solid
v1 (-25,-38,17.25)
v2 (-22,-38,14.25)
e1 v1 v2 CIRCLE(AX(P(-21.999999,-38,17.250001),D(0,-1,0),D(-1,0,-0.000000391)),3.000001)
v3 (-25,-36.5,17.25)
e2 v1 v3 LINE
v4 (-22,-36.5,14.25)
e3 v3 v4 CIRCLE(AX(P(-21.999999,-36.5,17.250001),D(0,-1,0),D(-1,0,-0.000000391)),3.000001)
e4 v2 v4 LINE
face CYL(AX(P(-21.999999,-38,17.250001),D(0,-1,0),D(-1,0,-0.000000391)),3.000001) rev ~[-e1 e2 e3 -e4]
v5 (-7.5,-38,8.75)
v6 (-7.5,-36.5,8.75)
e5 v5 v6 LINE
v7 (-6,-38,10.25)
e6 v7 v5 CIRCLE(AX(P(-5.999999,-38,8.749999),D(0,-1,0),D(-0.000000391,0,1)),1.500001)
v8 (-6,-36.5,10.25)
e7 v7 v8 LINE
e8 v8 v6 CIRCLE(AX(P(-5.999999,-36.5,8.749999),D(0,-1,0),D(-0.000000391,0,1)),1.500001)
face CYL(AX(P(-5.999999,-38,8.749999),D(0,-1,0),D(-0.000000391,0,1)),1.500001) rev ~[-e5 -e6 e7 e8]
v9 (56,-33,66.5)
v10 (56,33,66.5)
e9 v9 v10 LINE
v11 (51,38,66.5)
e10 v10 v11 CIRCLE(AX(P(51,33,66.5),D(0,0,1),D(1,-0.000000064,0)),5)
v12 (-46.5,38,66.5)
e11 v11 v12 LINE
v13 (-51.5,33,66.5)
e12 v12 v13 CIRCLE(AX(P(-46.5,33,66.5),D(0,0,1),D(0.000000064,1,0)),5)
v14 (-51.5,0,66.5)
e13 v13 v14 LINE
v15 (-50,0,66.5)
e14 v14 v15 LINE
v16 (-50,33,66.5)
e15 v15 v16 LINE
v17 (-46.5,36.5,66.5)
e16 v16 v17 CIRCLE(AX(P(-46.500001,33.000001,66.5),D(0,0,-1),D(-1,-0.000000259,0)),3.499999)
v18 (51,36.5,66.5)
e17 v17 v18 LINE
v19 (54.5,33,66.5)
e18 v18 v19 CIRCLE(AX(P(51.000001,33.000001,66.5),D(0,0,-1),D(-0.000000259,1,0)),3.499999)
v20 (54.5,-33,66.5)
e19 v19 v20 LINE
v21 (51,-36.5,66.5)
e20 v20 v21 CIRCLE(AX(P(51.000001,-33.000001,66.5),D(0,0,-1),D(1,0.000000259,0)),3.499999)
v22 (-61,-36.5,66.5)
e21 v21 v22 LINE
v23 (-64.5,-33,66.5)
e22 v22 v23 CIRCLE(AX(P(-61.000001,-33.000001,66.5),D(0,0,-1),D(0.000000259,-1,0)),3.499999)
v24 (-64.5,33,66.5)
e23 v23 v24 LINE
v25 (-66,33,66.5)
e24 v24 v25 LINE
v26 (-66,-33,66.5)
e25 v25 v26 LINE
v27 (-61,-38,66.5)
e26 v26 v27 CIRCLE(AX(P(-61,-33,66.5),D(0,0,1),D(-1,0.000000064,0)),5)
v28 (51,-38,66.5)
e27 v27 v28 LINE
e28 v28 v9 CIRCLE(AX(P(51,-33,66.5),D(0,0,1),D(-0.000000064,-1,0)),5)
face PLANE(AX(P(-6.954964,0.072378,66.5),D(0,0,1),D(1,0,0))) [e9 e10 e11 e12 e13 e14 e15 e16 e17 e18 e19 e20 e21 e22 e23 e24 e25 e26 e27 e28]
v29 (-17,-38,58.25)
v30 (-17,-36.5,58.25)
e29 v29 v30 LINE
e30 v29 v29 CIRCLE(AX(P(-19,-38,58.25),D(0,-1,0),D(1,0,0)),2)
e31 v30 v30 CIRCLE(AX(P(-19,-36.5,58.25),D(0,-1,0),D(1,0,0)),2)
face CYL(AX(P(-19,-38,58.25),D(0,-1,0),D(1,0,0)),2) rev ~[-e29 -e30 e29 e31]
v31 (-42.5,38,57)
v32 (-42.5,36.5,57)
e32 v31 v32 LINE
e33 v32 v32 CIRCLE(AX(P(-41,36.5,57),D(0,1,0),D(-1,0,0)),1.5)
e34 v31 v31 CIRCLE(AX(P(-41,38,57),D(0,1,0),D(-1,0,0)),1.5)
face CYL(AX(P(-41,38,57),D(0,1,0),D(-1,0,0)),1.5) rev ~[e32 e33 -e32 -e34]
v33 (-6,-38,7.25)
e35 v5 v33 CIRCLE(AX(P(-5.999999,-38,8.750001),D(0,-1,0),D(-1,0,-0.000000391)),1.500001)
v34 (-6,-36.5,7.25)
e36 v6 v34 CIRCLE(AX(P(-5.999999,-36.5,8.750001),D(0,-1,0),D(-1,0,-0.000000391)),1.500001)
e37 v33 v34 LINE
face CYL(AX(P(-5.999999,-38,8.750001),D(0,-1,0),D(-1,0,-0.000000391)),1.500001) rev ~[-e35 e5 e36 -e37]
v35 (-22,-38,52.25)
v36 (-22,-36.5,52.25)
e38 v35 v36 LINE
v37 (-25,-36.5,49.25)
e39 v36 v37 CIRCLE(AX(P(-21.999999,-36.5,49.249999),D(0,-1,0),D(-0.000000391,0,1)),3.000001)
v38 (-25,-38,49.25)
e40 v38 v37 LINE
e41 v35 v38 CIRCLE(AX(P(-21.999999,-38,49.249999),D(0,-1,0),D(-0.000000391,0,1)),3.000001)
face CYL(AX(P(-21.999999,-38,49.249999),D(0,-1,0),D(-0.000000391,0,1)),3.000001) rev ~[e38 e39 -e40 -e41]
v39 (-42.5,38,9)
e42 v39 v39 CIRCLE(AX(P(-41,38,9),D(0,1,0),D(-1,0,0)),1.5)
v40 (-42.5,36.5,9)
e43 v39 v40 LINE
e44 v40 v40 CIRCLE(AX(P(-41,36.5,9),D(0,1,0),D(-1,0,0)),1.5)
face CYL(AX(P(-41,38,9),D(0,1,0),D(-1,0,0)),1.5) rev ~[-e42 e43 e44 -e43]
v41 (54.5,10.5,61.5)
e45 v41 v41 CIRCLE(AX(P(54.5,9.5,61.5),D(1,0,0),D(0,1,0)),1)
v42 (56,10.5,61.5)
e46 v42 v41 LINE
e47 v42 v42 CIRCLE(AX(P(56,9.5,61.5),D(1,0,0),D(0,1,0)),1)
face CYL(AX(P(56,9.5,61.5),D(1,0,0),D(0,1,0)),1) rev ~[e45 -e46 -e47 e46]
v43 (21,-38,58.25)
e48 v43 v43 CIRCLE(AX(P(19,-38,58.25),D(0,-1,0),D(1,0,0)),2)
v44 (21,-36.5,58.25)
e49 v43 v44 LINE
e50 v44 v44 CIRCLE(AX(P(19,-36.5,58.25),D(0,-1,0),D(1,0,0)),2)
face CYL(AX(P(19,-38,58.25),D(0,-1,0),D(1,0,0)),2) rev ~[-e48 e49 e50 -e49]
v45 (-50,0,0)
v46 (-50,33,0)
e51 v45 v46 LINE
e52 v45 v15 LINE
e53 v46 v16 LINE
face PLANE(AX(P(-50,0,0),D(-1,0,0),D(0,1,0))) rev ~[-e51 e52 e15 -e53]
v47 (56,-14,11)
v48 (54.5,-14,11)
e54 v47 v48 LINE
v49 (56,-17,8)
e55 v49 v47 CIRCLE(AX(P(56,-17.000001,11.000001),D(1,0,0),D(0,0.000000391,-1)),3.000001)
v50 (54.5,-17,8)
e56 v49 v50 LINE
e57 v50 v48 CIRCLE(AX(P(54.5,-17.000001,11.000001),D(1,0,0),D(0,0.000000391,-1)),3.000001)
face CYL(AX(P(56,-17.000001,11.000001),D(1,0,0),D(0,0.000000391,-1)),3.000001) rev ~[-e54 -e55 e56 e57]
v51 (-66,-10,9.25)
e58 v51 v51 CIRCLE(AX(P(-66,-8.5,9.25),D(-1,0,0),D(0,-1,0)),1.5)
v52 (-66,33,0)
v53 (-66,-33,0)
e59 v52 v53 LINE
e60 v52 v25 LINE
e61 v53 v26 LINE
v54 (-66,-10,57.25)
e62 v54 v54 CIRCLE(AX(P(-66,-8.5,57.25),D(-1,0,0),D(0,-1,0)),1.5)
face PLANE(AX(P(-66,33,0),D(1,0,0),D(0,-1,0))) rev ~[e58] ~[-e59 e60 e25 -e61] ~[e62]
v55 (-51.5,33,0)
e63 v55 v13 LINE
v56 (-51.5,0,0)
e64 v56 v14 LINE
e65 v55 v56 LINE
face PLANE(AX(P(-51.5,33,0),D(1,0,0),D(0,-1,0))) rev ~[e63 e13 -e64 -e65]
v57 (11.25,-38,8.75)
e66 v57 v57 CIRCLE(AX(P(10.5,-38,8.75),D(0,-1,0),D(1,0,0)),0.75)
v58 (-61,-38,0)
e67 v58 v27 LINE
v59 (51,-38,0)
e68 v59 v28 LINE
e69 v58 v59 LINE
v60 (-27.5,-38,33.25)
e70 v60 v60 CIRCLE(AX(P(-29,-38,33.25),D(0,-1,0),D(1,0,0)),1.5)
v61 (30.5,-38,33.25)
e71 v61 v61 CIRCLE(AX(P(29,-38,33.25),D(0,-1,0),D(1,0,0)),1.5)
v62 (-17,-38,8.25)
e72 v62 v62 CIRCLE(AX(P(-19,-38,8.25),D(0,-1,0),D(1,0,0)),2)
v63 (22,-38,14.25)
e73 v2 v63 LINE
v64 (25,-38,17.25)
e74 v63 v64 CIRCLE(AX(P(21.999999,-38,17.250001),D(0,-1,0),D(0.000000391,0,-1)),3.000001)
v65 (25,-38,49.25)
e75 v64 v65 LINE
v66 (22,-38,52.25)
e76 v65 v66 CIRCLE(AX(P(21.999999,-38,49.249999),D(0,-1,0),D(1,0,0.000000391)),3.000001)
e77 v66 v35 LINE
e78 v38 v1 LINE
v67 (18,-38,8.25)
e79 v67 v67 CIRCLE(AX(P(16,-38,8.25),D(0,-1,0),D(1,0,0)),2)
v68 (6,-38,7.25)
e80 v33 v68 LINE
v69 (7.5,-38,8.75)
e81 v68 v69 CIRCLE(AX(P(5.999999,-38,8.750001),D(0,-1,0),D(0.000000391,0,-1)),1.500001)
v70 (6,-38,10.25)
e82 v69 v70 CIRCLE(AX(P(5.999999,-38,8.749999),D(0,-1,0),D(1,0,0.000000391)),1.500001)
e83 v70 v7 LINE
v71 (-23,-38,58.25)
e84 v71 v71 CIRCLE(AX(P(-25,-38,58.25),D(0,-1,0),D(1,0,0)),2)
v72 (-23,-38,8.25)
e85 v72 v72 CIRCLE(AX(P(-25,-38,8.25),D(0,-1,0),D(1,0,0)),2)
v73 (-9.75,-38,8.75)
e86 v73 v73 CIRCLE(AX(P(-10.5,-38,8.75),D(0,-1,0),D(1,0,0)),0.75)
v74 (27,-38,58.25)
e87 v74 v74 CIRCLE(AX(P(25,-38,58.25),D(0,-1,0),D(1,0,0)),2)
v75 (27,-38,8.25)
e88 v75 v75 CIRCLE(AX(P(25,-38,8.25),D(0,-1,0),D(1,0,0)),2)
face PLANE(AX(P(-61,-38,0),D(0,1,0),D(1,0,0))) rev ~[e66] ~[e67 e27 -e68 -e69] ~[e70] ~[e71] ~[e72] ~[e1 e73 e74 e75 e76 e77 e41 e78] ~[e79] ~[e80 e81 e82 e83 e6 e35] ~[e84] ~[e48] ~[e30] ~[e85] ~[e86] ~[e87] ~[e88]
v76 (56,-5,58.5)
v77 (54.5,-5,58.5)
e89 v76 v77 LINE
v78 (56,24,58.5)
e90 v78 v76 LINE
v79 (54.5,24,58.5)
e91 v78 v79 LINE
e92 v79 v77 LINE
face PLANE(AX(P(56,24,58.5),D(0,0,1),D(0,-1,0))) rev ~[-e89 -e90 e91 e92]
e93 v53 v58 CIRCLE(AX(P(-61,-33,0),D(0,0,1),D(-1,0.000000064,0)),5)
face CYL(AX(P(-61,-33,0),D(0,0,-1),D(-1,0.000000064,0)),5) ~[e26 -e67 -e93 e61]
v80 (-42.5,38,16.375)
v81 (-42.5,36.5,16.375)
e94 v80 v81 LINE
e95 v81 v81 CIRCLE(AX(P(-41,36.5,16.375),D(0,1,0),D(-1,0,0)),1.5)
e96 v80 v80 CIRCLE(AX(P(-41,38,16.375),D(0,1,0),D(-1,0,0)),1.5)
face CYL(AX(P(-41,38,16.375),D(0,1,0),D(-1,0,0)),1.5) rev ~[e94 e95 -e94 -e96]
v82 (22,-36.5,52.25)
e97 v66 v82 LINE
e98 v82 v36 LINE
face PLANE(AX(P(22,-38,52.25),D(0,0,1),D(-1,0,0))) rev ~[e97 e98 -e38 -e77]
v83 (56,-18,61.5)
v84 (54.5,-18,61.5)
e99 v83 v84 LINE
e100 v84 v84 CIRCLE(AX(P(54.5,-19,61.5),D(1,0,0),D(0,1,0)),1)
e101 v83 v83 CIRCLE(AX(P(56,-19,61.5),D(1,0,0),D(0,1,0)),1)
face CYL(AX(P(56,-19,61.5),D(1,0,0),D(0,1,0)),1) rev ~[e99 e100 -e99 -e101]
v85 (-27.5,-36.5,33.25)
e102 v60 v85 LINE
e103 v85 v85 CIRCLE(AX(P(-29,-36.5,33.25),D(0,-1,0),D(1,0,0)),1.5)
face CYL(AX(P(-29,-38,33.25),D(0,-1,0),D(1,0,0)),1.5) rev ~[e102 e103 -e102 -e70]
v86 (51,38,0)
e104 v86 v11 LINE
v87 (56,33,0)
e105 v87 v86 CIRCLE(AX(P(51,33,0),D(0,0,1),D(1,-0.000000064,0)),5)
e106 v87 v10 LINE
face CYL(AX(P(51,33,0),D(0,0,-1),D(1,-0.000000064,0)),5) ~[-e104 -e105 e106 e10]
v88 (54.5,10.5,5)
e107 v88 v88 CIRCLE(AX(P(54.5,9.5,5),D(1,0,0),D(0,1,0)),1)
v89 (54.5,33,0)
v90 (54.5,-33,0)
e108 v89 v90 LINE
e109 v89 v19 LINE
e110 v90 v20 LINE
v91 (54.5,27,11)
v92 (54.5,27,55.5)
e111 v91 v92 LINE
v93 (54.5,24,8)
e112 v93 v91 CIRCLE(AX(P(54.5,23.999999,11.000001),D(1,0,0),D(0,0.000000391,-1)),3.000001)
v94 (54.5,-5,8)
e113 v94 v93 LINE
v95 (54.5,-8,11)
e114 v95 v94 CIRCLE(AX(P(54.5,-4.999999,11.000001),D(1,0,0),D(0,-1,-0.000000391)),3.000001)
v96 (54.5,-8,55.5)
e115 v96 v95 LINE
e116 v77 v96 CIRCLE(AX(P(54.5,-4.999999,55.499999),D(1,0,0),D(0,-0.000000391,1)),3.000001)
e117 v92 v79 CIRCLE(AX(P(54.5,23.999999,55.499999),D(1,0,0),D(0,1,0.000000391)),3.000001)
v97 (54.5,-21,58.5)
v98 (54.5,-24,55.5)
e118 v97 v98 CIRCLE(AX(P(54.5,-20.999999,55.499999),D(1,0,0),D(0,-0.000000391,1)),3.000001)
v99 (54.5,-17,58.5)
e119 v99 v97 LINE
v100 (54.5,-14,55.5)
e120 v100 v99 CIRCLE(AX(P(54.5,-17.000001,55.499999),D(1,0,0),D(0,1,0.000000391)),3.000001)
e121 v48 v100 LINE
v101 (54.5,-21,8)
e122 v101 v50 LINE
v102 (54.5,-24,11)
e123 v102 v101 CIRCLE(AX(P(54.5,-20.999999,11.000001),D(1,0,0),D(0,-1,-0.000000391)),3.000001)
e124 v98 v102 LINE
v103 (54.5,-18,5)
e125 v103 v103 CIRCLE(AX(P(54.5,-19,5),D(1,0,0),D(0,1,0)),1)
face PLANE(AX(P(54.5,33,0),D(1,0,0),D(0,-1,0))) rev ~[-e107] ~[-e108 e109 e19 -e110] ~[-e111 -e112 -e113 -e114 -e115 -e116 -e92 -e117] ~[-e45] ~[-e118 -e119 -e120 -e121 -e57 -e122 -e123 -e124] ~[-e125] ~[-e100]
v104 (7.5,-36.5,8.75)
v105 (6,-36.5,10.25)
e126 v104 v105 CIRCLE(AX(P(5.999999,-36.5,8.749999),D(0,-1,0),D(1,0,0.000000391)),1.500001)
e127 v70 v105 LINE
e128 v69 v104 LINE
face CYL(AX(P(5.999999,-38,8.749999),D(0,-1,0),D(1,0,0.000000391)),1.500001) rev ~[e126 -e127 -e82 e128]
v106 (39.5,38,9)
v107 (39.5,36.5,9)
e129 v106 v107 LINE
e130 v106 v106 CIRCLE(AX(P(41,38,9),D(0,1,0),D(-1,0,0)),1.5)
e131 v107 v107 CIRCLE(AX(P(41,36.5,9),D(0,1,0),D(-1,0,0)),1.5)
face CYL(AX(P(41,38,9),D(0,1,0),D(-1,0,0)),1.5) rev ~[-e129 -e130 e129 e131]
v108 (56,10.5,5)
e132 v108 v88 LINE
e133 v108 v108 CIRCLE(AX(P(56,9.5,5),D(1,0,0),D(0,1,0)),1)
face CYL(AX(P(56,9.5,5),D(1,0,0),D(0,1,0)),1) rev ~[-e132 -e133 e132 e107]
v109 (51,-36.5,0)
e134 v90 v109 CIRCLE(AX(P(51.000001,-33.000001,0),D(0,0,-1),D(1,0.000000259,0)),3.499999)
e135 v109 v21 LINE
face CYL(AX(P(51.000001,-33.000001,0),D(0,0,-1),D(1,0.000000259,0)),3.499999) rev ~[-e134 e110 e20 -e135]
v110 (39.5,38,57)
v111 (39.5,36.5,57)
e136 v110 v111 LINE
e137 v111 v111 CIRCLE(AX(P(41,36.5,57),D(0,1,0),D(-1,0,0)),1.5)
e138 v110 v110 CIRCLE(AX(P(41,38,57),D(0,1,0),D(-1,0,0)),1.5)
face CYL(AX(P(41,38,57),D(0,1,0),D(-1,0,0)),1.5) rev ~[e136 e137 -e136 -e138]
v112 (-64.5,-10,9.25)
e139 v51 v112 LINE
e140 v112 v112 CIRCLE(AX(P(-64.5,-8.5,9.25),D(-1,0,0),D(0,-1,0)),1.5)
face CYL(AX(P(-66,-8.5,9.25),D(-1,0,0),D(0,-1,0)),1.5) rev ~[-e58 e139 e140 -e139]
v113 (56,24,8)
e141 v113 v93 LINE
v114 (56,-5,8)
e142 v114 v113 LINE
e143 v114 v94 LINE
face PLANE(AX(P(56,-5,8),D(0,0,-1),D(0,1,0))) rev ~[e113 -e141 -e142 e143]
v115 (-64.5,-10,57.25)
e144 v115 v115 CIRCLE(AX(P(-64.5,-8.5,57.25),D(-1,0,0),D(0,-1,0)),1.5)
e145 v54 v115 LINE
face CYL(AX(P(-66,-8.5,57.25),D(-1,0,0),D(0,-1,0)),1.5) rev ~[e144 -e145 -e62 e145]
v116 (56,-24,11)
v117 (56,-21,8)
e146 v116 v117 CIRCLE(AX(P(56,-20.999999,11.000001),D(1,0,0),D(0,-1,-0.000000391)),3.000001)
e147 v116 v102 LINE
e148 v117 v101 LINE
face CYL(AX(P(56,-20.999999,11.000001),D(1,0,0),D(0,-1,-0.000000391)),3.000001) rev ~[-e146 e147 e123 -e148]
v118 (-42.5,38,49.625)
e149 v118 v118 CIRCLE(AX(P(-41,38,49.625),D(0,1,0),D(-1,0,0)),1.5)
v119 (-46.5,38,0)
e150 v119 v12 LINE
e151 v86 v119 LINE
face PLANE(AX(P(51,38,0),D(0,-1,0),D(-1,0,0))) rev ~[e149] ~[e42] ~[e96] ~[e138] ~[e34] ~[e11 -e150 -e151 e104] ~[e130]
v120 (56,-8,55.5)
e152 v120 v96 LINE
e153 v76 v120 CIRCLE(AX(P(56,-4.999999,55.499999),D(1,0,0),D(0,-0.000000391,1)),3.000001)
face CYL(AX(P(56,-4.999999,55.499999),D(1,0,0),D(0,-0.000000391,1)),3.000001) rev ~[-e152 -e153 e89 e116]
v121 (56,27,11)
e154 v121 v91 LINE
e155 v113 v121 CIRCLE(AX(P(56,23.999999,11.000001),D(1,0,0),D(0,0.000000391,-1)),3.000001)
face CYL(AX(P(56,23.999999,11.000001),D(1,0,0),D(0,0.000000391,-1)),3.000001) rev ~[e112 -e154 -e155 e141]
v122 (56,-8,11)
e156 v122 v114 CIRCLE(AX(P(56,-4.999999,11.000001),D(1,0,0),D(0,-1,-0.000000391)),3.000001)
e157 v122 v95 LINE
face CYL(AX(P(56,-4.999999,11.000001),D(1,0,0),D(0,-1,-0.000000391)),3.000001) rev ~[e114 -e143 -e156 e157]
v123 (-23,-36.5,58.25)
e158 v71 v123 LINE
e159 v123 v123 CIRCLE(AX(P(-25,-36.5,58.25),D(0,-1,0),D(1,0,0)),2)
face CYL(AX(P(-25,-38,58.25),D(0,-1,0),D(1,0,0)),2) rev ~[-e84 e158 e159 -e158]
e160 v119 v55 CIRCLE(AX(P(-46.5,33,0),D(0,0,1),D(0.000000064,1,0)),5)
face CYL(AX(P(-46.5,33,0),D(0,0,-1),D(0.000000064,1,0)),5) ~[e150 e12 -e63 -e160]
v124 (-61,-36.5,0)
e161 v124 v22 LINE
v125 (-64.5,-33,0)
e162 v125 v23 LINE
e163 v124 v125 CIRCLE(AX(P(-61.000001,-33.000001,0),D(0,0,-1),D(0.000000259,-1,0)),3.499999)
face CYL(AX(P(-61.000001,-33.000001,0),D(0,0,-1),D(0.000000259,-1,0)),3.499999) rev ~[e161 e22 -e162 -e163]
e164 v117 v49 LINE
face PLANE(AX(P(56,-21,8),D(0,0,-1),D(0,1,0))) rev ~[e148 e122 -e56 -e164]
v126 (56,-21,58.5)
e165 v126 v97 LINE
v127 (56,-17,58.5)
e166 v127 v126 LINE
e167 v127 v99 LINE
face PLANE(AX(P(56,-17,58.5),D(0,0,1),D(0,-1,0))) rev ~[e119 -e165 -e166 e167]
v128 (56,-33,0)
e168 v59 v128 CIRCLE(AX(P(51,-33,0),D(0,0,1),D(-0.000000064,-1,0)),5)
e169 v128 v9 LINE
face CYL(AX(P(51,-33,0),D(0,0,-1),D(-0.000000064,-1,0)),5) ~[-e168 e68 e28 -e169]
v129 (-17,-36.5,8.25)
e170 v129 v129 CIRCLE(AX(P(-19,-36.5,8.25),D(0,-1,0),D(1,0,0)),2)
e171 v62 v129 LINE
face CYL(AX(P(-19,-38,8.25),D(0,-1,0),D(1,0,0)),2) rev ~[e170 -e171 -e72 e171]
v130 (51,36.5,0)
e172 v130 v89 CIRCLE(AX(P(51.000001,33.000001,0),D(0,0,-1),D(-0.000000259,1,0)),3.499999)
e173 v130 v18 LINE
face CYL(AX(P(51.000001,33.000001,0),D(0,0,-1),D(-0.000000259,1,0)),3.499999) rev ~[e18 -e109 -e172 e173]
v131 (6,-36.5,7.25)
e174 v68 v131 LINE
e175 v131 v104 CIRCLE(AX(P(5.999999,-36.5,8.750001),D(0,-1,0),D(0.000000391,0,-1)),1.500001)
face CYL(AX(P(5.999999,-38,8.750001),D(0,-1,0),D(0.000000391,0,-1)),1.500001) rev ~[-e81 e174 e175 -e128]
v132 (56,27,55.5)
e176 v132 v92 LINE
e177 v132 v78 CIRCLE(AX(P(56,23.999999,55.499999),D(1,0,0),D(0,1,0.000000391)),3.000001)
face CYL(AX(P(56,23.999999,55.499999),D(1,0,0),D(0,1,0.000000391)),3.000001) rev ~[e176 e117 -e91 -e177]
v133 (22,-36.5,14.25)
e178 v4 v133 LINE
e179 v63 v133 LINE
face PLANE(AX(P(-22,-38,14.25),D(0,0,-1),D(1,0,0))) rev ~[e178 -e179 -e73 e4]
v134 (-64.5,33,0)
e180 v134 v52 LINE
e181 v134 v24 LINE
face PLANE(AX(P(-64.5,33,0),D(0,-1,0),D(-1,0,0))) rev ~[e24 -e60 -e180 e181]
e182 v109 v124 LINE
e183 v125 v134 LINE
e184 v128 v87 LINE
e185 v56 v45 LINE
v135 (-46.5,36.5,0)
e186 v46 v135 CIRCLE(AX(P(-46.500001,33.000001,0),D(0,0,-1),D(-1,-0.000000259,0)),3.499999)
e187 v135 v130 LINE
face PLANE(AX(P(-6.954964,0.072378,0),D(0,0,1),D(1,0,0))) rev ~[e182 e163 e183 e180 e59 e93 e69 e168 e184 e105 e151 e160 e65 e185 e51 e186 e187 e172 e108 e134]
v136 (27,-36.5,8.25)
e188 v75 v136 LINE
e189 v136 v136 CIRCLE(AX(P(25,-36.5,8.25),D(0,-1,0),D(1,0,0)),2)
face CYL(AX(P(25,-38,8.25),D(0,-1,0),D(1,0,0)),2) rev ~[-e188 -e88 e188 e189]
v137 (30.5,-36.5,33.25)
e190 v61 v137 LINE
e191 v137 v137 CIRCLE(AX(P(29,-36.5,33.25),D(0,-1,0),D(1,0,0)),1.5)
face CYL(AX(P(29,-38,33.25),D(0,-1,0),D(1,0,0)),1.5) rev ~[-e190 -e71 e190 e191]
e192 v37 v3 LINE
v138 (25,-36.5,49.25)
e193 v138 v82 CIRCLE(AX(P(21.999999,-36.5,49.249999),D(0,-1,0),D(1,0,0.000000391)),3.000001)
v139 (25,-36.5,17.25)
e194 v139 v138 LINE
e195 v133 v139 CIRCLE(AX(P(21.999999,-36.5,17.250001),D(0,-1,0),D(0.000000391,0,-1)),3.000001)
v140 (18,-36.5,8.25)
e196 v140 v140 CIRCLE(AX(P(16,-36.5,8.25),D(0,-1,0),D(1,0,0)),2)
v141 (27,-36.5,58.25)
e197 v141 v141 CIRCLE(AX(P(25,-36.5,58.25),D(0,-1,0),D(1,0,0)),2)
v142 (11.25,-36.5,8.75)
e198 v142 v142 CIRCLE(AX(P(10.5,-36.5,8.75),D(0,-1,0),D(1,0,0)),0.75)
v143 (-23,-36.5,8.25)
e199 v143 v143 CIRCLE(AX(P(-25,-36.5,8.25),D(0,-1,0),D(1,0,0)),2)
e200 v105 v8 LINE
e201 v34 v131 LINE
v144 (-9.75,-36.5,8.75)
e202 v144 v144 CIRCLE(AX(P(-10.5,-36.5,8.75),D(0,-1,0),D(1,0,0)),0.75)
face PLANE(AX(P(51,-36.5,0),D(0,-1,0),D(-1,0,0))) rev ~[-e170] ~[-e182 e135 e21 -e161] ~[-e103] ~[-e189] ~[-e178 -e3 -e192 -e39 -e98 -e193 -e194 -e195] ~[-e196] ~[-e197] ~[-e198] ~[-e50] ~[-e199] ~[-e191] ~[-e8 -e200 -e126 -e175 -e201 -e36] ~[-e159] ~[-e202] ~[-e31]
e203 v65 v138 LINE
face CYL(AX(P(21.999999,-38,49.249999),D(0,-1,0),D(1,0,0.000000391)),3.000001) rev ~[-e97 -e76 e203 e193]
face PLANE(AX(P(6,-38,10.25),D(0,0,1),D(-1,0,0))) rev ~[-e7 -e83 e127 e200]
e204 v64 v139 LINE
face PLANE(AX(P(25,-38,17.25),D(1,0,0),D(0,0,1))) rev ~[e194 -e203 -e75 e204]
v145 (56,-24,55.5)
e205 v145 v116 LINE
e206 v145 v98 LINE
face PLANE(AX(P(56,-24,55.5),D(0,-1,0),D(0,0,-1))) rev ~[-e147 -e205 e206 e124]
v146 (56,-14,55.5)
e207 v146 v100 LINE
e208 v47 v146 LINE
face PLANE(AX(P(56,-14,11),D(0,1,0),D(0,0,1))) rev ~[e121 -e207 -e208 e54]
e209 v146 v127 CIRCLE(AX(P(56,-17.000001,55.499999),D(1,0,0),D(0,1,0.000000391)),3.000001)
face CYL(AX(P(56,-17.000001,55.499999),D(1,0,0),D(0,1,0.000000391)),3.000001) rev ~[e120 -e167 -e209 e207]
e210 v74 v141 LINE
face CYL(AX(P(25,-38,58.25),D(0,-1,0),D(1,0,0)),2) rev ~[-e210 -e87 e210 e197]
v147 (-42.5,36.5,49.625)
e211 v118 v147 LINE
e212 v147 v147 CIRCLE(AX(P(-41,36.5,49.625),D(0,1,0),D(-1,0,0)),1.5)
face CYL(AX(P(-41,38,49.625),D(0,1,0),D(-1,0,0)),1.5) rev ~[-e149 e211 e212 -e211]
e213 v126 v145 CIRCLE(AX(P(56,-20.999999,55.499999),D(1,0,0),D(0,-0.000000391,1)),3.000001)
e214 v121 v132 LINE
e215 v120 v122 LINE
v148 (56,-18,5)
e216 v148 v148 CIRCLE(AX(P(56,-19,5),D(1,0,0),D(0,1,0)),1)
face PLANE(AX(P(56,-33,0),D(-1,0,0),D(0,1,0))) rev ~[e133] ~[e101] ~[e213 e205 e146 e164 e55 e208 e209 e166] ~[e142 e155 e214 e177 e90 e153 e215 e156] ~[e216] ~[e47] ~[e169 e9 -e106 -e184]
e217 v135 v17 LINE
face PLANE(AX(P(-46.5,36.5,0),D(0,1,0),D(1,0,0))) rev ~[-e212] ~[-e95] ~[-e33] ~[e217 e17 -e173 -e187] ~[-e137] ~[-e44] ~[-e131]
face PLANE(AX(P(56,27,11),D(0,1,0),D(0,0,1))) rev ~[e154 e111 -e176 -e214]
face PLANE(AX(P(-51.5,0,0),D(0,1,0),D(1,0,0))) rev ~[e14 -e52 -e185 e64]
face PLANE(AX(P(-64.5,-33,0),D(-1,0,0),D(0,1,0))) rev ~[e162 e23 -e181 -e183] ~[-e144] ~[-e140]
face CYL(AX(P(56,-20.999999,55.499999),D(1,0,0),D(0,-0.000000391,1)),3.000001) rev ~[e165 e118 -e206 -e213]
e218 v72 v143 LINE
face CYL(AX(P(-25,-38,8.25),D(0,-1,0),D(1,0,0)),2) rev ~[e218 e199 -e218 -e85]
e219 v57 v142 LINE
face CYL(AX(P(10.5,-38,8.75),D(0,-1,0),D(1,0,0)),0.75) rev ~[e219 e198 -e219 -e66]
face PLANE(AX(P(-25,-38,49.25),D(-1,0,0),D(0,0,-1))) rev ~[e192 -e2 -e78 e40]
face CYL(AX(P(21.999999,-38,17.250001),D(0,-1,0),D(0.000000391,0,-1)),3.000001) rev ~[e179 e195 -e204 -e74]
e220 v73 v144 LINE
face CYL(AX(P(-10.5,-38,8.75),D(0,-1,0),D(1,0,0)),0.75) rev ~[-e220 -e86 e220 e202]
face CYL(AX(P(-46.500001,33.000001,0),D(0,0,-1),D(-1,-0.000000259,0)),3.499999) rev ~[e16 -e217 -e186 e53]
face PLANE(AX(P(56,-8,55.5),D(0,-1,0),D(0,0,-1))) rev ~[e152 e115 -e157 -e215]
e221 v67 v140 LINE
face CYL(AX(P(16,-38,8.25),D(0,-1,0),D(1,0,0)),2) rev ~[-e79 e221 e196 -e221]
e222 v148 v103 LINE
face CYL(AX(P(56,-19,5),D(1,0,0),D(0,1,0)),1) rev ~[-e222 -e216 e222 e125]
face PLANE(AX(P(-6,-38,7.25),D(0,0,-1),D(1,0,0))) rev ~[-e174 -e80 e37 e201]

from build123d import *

# Parameters (mm, degrees)
F1_DEPTH = 66.5
F2_R     = 1.5
F2_R_2   = 2
F2_R_3   = 0.75
F3_DEPTH = 25
F4_R     = 1.5
F5_DEPTH = 25
F6_R     = 1
F7_DEPTH = 25
F8_R     = 1.5
F9_DEPTH = 1.5


with BuildPart() as f1:
    # F0 (on Top) → F1 (new body)
    with BuildSketch(Plane.XY):
        with BuildLine():
            Line((-64.5, -33), (-64.5, 33))
            Line((-64.5, 33), (-66, 33))
            Line((-66, 33), (-66, -33))
            ThreePointArc((-66, -33), (-64.535534, -36.535534), (-61, -38))
            Line((-61, -38), (51, -38))
            ThreePointArc((51, -38), (54.535534, -36.535534), (56, -33))
            Line((56, -33), (56, 33))
            ThreePointArc((56, 33), (54.535534, 36.535534), (51, 38))
            Line((51, 38), (-46.5, 38))
            ThreePointArc((-46.5, 38), (-50.035534, 36.535534), (-51.5, 33))
            Line((-51.5, 33), (-51.5, 0))
            Line((-51.5, 0), (-50, 0))
            Line((-50, 0), (-50, 33))
            ThreePointArc((-50, 33), (-48.974874, 35.474874), (-46.5, 36.5))
            Line((-46.5, 36.5), (51, 36.5))
            ThreePointArc((51, 36.5), (53.474874, 35.474874), (54.5, 33))
            Line((54.5, 33), (54.5, -33))
            ThreePointArc((54.5, -33), (53.474874, -35.474874), (51, -36.5))
            Line((51, -36.5), (-61, -36.5))
            ThreePointArc((-61, -36.5), (-63.474874, -35.474874), (-64.5, -33))
        make_face()
    extrude(amount=F1_DEPTH)

    # F2 (on face) → F3 (cut)
    with BuildSketch(Plane.XZ.offset(38)):
        with BuildLine():
            Line((22, 52.25), (-22, 52.25))
            ThreePointArc((-22, 52.25), (-24.12132, 51.37132), (-25, 49.25))
            Line((-25, 49.25), (-25, 17.25))
            ThreePointArc((-25, 17.25), (-24.12132, 15.12868), (-22, 14.25))
            Line((-22, 14.25), (22, 14.25))
            ThreePointArc((22, 14.25), (24.12132, 15.12868), (25, 17.25))
            Line((25, 17.25), (25, 49.25))
            ThreePointArc((25, 49.25), (24.12132, 51.37132), (22, 52.25))
        make_face()
        with Locations((-29, 33.25)):
            Circle(F2_R)
        with Locations((29, 33.25)):
            Circle(F2_R)
        with Locations((-25, 58.25)):
            Circle(F2_R_2)
        with Locations((25, 58.25)):
            Circle(F2_R_2)
        with Locations((-25, 8.25)):
            Circle(F2_R_2)
        with Locations((25, 8.25)):
            Circle(F2_R_2)
        with BuildLine():
            ThreePointArc((-7.5, 8.75), (-7.06066, 7.68934), (-6, 7.25))
            Line((-6, 7.25), (6, 7.25))
            ThreePointArc((6, 7.25), (7.06066, 7.68934), (7.5, 8.75))
            ThreePointArc((7.5, 8.75), (7.06066, 9.81066), (6, 10.25))
            Line((6, 10.25), (-6, 10.25))
            ThreePointArc((-6, 10.25), (-7.06066, 9.81066), (-7.5, 8.75))
        make_face()
        with Locations((-10.5, 8.75)):
            Circle(F2_R_3)
        with Locations((10.5, 8.75)):
            Circle(F2_R_3)
        with Locations((-19, 8.25)):
            Circle(F2_R_2)
        with Locations((-19, 58.25)):
            Circle(F2_R_2)
        with Locations((19, 58.25)):
            Circle(F2_R_2)
        with Locations((16, 8.25)):
            Circle(F2_R_2)
    extrude(amount=-F3_DEPTH, mode=Mode.SUBTRACT)

    # F4 (on face) → F5 (cut)
    with BuildSketch(Plane(origin=(0, 38, 0), x_dir=(-1, 0, 0), z_dir=(0, 1, 0))):
        with Locations((-41, 57)):
            Circle(F4_R)
        with Locations((-41, 9)):
            Circle(F4_R)
        with Locations((41, 9)):
            Circle(F4_R)
        with Locations((41, 57)):
            Circle(F4_R)
        with Locations((41, 16.375)):
            Circle(F4_R)
        with Locations((41, 49.625)):
            Circle(F4_R)
    extrude(amount=-F5_DEPTH, mode=Mode.SUBTRACT)

    # F6 (on face) → F7 (cut)
    with BuildSketch(Plane.YZ.offset(56)):
        with BuildLine():
            Line((-17, 58.5), (-21, 58.5))
            ThreePointArc((-21, 58.5), (-23.12132, 57.62132), (-24, 55.5))
            Line((-24, 55.5), (-24, 11))
            ThreePointArc((-24, 11), (-23.12132, 8.87868), (-21, 8))
            Line((-21, 8), (-17, 8))
            ThreePointArc((-17, 8), (-14.87868, 8.87868), (-14, 11))
            Line((-14, 11), (-14, 55.5))
            ThreePointArc((-14, 55.5), (-14.87868, 57.62132), (-17, 58.5))
        make_face()
        with BuildLine():
            Line((24, 58.5), (-5, 58.5))
            ThreePointArc((-5, 58.5), (-7.12132, 57.62132), (-8, 55.5))
            Line((-8, 55.5), (-8, 11))
            ThreePointArc((-8, 11), (-7.12132, 8.87868), (-5, 8))
            Line((-5, 8), (24, 8))
            ThreePointArc((24, 8), (26.12132, 8.87868), (27, 11))
            Line((27, 11), (27, 55.5))
            ThreePointArc((27, 55.5), (26.12132, 57.62132), (24, 58.5))
        make_face()
        with Locations((-19, 61.5)):
            Circle(F6_R)
        with Locations((9.5, 61.5)):
            Circle(F6_R)
        with Locations((9.5, 5)):
            Circle(F6_R)
        with Locations((-19, 5)):
            Circle(F6_R)
    extrude(amount=-F7_DEPTH, mode=Mode.SUBTRACT)

    # F8 (on face) → F9 (cut)
    with BuildSketch(Plane(origin=(-66, 0, 0), x_dir=(0, -1, 0), z_dir=(-1, 0, 0))):
        with Locations((8.5, 57.25)):
            Circle(F8_R)
        with Locations((8.5, 9.25)):
            Circle(F8_R)
    extrude(amount=-F9_DEPTH, mode=Mode.SUBTRACT)


solid = f1.part
